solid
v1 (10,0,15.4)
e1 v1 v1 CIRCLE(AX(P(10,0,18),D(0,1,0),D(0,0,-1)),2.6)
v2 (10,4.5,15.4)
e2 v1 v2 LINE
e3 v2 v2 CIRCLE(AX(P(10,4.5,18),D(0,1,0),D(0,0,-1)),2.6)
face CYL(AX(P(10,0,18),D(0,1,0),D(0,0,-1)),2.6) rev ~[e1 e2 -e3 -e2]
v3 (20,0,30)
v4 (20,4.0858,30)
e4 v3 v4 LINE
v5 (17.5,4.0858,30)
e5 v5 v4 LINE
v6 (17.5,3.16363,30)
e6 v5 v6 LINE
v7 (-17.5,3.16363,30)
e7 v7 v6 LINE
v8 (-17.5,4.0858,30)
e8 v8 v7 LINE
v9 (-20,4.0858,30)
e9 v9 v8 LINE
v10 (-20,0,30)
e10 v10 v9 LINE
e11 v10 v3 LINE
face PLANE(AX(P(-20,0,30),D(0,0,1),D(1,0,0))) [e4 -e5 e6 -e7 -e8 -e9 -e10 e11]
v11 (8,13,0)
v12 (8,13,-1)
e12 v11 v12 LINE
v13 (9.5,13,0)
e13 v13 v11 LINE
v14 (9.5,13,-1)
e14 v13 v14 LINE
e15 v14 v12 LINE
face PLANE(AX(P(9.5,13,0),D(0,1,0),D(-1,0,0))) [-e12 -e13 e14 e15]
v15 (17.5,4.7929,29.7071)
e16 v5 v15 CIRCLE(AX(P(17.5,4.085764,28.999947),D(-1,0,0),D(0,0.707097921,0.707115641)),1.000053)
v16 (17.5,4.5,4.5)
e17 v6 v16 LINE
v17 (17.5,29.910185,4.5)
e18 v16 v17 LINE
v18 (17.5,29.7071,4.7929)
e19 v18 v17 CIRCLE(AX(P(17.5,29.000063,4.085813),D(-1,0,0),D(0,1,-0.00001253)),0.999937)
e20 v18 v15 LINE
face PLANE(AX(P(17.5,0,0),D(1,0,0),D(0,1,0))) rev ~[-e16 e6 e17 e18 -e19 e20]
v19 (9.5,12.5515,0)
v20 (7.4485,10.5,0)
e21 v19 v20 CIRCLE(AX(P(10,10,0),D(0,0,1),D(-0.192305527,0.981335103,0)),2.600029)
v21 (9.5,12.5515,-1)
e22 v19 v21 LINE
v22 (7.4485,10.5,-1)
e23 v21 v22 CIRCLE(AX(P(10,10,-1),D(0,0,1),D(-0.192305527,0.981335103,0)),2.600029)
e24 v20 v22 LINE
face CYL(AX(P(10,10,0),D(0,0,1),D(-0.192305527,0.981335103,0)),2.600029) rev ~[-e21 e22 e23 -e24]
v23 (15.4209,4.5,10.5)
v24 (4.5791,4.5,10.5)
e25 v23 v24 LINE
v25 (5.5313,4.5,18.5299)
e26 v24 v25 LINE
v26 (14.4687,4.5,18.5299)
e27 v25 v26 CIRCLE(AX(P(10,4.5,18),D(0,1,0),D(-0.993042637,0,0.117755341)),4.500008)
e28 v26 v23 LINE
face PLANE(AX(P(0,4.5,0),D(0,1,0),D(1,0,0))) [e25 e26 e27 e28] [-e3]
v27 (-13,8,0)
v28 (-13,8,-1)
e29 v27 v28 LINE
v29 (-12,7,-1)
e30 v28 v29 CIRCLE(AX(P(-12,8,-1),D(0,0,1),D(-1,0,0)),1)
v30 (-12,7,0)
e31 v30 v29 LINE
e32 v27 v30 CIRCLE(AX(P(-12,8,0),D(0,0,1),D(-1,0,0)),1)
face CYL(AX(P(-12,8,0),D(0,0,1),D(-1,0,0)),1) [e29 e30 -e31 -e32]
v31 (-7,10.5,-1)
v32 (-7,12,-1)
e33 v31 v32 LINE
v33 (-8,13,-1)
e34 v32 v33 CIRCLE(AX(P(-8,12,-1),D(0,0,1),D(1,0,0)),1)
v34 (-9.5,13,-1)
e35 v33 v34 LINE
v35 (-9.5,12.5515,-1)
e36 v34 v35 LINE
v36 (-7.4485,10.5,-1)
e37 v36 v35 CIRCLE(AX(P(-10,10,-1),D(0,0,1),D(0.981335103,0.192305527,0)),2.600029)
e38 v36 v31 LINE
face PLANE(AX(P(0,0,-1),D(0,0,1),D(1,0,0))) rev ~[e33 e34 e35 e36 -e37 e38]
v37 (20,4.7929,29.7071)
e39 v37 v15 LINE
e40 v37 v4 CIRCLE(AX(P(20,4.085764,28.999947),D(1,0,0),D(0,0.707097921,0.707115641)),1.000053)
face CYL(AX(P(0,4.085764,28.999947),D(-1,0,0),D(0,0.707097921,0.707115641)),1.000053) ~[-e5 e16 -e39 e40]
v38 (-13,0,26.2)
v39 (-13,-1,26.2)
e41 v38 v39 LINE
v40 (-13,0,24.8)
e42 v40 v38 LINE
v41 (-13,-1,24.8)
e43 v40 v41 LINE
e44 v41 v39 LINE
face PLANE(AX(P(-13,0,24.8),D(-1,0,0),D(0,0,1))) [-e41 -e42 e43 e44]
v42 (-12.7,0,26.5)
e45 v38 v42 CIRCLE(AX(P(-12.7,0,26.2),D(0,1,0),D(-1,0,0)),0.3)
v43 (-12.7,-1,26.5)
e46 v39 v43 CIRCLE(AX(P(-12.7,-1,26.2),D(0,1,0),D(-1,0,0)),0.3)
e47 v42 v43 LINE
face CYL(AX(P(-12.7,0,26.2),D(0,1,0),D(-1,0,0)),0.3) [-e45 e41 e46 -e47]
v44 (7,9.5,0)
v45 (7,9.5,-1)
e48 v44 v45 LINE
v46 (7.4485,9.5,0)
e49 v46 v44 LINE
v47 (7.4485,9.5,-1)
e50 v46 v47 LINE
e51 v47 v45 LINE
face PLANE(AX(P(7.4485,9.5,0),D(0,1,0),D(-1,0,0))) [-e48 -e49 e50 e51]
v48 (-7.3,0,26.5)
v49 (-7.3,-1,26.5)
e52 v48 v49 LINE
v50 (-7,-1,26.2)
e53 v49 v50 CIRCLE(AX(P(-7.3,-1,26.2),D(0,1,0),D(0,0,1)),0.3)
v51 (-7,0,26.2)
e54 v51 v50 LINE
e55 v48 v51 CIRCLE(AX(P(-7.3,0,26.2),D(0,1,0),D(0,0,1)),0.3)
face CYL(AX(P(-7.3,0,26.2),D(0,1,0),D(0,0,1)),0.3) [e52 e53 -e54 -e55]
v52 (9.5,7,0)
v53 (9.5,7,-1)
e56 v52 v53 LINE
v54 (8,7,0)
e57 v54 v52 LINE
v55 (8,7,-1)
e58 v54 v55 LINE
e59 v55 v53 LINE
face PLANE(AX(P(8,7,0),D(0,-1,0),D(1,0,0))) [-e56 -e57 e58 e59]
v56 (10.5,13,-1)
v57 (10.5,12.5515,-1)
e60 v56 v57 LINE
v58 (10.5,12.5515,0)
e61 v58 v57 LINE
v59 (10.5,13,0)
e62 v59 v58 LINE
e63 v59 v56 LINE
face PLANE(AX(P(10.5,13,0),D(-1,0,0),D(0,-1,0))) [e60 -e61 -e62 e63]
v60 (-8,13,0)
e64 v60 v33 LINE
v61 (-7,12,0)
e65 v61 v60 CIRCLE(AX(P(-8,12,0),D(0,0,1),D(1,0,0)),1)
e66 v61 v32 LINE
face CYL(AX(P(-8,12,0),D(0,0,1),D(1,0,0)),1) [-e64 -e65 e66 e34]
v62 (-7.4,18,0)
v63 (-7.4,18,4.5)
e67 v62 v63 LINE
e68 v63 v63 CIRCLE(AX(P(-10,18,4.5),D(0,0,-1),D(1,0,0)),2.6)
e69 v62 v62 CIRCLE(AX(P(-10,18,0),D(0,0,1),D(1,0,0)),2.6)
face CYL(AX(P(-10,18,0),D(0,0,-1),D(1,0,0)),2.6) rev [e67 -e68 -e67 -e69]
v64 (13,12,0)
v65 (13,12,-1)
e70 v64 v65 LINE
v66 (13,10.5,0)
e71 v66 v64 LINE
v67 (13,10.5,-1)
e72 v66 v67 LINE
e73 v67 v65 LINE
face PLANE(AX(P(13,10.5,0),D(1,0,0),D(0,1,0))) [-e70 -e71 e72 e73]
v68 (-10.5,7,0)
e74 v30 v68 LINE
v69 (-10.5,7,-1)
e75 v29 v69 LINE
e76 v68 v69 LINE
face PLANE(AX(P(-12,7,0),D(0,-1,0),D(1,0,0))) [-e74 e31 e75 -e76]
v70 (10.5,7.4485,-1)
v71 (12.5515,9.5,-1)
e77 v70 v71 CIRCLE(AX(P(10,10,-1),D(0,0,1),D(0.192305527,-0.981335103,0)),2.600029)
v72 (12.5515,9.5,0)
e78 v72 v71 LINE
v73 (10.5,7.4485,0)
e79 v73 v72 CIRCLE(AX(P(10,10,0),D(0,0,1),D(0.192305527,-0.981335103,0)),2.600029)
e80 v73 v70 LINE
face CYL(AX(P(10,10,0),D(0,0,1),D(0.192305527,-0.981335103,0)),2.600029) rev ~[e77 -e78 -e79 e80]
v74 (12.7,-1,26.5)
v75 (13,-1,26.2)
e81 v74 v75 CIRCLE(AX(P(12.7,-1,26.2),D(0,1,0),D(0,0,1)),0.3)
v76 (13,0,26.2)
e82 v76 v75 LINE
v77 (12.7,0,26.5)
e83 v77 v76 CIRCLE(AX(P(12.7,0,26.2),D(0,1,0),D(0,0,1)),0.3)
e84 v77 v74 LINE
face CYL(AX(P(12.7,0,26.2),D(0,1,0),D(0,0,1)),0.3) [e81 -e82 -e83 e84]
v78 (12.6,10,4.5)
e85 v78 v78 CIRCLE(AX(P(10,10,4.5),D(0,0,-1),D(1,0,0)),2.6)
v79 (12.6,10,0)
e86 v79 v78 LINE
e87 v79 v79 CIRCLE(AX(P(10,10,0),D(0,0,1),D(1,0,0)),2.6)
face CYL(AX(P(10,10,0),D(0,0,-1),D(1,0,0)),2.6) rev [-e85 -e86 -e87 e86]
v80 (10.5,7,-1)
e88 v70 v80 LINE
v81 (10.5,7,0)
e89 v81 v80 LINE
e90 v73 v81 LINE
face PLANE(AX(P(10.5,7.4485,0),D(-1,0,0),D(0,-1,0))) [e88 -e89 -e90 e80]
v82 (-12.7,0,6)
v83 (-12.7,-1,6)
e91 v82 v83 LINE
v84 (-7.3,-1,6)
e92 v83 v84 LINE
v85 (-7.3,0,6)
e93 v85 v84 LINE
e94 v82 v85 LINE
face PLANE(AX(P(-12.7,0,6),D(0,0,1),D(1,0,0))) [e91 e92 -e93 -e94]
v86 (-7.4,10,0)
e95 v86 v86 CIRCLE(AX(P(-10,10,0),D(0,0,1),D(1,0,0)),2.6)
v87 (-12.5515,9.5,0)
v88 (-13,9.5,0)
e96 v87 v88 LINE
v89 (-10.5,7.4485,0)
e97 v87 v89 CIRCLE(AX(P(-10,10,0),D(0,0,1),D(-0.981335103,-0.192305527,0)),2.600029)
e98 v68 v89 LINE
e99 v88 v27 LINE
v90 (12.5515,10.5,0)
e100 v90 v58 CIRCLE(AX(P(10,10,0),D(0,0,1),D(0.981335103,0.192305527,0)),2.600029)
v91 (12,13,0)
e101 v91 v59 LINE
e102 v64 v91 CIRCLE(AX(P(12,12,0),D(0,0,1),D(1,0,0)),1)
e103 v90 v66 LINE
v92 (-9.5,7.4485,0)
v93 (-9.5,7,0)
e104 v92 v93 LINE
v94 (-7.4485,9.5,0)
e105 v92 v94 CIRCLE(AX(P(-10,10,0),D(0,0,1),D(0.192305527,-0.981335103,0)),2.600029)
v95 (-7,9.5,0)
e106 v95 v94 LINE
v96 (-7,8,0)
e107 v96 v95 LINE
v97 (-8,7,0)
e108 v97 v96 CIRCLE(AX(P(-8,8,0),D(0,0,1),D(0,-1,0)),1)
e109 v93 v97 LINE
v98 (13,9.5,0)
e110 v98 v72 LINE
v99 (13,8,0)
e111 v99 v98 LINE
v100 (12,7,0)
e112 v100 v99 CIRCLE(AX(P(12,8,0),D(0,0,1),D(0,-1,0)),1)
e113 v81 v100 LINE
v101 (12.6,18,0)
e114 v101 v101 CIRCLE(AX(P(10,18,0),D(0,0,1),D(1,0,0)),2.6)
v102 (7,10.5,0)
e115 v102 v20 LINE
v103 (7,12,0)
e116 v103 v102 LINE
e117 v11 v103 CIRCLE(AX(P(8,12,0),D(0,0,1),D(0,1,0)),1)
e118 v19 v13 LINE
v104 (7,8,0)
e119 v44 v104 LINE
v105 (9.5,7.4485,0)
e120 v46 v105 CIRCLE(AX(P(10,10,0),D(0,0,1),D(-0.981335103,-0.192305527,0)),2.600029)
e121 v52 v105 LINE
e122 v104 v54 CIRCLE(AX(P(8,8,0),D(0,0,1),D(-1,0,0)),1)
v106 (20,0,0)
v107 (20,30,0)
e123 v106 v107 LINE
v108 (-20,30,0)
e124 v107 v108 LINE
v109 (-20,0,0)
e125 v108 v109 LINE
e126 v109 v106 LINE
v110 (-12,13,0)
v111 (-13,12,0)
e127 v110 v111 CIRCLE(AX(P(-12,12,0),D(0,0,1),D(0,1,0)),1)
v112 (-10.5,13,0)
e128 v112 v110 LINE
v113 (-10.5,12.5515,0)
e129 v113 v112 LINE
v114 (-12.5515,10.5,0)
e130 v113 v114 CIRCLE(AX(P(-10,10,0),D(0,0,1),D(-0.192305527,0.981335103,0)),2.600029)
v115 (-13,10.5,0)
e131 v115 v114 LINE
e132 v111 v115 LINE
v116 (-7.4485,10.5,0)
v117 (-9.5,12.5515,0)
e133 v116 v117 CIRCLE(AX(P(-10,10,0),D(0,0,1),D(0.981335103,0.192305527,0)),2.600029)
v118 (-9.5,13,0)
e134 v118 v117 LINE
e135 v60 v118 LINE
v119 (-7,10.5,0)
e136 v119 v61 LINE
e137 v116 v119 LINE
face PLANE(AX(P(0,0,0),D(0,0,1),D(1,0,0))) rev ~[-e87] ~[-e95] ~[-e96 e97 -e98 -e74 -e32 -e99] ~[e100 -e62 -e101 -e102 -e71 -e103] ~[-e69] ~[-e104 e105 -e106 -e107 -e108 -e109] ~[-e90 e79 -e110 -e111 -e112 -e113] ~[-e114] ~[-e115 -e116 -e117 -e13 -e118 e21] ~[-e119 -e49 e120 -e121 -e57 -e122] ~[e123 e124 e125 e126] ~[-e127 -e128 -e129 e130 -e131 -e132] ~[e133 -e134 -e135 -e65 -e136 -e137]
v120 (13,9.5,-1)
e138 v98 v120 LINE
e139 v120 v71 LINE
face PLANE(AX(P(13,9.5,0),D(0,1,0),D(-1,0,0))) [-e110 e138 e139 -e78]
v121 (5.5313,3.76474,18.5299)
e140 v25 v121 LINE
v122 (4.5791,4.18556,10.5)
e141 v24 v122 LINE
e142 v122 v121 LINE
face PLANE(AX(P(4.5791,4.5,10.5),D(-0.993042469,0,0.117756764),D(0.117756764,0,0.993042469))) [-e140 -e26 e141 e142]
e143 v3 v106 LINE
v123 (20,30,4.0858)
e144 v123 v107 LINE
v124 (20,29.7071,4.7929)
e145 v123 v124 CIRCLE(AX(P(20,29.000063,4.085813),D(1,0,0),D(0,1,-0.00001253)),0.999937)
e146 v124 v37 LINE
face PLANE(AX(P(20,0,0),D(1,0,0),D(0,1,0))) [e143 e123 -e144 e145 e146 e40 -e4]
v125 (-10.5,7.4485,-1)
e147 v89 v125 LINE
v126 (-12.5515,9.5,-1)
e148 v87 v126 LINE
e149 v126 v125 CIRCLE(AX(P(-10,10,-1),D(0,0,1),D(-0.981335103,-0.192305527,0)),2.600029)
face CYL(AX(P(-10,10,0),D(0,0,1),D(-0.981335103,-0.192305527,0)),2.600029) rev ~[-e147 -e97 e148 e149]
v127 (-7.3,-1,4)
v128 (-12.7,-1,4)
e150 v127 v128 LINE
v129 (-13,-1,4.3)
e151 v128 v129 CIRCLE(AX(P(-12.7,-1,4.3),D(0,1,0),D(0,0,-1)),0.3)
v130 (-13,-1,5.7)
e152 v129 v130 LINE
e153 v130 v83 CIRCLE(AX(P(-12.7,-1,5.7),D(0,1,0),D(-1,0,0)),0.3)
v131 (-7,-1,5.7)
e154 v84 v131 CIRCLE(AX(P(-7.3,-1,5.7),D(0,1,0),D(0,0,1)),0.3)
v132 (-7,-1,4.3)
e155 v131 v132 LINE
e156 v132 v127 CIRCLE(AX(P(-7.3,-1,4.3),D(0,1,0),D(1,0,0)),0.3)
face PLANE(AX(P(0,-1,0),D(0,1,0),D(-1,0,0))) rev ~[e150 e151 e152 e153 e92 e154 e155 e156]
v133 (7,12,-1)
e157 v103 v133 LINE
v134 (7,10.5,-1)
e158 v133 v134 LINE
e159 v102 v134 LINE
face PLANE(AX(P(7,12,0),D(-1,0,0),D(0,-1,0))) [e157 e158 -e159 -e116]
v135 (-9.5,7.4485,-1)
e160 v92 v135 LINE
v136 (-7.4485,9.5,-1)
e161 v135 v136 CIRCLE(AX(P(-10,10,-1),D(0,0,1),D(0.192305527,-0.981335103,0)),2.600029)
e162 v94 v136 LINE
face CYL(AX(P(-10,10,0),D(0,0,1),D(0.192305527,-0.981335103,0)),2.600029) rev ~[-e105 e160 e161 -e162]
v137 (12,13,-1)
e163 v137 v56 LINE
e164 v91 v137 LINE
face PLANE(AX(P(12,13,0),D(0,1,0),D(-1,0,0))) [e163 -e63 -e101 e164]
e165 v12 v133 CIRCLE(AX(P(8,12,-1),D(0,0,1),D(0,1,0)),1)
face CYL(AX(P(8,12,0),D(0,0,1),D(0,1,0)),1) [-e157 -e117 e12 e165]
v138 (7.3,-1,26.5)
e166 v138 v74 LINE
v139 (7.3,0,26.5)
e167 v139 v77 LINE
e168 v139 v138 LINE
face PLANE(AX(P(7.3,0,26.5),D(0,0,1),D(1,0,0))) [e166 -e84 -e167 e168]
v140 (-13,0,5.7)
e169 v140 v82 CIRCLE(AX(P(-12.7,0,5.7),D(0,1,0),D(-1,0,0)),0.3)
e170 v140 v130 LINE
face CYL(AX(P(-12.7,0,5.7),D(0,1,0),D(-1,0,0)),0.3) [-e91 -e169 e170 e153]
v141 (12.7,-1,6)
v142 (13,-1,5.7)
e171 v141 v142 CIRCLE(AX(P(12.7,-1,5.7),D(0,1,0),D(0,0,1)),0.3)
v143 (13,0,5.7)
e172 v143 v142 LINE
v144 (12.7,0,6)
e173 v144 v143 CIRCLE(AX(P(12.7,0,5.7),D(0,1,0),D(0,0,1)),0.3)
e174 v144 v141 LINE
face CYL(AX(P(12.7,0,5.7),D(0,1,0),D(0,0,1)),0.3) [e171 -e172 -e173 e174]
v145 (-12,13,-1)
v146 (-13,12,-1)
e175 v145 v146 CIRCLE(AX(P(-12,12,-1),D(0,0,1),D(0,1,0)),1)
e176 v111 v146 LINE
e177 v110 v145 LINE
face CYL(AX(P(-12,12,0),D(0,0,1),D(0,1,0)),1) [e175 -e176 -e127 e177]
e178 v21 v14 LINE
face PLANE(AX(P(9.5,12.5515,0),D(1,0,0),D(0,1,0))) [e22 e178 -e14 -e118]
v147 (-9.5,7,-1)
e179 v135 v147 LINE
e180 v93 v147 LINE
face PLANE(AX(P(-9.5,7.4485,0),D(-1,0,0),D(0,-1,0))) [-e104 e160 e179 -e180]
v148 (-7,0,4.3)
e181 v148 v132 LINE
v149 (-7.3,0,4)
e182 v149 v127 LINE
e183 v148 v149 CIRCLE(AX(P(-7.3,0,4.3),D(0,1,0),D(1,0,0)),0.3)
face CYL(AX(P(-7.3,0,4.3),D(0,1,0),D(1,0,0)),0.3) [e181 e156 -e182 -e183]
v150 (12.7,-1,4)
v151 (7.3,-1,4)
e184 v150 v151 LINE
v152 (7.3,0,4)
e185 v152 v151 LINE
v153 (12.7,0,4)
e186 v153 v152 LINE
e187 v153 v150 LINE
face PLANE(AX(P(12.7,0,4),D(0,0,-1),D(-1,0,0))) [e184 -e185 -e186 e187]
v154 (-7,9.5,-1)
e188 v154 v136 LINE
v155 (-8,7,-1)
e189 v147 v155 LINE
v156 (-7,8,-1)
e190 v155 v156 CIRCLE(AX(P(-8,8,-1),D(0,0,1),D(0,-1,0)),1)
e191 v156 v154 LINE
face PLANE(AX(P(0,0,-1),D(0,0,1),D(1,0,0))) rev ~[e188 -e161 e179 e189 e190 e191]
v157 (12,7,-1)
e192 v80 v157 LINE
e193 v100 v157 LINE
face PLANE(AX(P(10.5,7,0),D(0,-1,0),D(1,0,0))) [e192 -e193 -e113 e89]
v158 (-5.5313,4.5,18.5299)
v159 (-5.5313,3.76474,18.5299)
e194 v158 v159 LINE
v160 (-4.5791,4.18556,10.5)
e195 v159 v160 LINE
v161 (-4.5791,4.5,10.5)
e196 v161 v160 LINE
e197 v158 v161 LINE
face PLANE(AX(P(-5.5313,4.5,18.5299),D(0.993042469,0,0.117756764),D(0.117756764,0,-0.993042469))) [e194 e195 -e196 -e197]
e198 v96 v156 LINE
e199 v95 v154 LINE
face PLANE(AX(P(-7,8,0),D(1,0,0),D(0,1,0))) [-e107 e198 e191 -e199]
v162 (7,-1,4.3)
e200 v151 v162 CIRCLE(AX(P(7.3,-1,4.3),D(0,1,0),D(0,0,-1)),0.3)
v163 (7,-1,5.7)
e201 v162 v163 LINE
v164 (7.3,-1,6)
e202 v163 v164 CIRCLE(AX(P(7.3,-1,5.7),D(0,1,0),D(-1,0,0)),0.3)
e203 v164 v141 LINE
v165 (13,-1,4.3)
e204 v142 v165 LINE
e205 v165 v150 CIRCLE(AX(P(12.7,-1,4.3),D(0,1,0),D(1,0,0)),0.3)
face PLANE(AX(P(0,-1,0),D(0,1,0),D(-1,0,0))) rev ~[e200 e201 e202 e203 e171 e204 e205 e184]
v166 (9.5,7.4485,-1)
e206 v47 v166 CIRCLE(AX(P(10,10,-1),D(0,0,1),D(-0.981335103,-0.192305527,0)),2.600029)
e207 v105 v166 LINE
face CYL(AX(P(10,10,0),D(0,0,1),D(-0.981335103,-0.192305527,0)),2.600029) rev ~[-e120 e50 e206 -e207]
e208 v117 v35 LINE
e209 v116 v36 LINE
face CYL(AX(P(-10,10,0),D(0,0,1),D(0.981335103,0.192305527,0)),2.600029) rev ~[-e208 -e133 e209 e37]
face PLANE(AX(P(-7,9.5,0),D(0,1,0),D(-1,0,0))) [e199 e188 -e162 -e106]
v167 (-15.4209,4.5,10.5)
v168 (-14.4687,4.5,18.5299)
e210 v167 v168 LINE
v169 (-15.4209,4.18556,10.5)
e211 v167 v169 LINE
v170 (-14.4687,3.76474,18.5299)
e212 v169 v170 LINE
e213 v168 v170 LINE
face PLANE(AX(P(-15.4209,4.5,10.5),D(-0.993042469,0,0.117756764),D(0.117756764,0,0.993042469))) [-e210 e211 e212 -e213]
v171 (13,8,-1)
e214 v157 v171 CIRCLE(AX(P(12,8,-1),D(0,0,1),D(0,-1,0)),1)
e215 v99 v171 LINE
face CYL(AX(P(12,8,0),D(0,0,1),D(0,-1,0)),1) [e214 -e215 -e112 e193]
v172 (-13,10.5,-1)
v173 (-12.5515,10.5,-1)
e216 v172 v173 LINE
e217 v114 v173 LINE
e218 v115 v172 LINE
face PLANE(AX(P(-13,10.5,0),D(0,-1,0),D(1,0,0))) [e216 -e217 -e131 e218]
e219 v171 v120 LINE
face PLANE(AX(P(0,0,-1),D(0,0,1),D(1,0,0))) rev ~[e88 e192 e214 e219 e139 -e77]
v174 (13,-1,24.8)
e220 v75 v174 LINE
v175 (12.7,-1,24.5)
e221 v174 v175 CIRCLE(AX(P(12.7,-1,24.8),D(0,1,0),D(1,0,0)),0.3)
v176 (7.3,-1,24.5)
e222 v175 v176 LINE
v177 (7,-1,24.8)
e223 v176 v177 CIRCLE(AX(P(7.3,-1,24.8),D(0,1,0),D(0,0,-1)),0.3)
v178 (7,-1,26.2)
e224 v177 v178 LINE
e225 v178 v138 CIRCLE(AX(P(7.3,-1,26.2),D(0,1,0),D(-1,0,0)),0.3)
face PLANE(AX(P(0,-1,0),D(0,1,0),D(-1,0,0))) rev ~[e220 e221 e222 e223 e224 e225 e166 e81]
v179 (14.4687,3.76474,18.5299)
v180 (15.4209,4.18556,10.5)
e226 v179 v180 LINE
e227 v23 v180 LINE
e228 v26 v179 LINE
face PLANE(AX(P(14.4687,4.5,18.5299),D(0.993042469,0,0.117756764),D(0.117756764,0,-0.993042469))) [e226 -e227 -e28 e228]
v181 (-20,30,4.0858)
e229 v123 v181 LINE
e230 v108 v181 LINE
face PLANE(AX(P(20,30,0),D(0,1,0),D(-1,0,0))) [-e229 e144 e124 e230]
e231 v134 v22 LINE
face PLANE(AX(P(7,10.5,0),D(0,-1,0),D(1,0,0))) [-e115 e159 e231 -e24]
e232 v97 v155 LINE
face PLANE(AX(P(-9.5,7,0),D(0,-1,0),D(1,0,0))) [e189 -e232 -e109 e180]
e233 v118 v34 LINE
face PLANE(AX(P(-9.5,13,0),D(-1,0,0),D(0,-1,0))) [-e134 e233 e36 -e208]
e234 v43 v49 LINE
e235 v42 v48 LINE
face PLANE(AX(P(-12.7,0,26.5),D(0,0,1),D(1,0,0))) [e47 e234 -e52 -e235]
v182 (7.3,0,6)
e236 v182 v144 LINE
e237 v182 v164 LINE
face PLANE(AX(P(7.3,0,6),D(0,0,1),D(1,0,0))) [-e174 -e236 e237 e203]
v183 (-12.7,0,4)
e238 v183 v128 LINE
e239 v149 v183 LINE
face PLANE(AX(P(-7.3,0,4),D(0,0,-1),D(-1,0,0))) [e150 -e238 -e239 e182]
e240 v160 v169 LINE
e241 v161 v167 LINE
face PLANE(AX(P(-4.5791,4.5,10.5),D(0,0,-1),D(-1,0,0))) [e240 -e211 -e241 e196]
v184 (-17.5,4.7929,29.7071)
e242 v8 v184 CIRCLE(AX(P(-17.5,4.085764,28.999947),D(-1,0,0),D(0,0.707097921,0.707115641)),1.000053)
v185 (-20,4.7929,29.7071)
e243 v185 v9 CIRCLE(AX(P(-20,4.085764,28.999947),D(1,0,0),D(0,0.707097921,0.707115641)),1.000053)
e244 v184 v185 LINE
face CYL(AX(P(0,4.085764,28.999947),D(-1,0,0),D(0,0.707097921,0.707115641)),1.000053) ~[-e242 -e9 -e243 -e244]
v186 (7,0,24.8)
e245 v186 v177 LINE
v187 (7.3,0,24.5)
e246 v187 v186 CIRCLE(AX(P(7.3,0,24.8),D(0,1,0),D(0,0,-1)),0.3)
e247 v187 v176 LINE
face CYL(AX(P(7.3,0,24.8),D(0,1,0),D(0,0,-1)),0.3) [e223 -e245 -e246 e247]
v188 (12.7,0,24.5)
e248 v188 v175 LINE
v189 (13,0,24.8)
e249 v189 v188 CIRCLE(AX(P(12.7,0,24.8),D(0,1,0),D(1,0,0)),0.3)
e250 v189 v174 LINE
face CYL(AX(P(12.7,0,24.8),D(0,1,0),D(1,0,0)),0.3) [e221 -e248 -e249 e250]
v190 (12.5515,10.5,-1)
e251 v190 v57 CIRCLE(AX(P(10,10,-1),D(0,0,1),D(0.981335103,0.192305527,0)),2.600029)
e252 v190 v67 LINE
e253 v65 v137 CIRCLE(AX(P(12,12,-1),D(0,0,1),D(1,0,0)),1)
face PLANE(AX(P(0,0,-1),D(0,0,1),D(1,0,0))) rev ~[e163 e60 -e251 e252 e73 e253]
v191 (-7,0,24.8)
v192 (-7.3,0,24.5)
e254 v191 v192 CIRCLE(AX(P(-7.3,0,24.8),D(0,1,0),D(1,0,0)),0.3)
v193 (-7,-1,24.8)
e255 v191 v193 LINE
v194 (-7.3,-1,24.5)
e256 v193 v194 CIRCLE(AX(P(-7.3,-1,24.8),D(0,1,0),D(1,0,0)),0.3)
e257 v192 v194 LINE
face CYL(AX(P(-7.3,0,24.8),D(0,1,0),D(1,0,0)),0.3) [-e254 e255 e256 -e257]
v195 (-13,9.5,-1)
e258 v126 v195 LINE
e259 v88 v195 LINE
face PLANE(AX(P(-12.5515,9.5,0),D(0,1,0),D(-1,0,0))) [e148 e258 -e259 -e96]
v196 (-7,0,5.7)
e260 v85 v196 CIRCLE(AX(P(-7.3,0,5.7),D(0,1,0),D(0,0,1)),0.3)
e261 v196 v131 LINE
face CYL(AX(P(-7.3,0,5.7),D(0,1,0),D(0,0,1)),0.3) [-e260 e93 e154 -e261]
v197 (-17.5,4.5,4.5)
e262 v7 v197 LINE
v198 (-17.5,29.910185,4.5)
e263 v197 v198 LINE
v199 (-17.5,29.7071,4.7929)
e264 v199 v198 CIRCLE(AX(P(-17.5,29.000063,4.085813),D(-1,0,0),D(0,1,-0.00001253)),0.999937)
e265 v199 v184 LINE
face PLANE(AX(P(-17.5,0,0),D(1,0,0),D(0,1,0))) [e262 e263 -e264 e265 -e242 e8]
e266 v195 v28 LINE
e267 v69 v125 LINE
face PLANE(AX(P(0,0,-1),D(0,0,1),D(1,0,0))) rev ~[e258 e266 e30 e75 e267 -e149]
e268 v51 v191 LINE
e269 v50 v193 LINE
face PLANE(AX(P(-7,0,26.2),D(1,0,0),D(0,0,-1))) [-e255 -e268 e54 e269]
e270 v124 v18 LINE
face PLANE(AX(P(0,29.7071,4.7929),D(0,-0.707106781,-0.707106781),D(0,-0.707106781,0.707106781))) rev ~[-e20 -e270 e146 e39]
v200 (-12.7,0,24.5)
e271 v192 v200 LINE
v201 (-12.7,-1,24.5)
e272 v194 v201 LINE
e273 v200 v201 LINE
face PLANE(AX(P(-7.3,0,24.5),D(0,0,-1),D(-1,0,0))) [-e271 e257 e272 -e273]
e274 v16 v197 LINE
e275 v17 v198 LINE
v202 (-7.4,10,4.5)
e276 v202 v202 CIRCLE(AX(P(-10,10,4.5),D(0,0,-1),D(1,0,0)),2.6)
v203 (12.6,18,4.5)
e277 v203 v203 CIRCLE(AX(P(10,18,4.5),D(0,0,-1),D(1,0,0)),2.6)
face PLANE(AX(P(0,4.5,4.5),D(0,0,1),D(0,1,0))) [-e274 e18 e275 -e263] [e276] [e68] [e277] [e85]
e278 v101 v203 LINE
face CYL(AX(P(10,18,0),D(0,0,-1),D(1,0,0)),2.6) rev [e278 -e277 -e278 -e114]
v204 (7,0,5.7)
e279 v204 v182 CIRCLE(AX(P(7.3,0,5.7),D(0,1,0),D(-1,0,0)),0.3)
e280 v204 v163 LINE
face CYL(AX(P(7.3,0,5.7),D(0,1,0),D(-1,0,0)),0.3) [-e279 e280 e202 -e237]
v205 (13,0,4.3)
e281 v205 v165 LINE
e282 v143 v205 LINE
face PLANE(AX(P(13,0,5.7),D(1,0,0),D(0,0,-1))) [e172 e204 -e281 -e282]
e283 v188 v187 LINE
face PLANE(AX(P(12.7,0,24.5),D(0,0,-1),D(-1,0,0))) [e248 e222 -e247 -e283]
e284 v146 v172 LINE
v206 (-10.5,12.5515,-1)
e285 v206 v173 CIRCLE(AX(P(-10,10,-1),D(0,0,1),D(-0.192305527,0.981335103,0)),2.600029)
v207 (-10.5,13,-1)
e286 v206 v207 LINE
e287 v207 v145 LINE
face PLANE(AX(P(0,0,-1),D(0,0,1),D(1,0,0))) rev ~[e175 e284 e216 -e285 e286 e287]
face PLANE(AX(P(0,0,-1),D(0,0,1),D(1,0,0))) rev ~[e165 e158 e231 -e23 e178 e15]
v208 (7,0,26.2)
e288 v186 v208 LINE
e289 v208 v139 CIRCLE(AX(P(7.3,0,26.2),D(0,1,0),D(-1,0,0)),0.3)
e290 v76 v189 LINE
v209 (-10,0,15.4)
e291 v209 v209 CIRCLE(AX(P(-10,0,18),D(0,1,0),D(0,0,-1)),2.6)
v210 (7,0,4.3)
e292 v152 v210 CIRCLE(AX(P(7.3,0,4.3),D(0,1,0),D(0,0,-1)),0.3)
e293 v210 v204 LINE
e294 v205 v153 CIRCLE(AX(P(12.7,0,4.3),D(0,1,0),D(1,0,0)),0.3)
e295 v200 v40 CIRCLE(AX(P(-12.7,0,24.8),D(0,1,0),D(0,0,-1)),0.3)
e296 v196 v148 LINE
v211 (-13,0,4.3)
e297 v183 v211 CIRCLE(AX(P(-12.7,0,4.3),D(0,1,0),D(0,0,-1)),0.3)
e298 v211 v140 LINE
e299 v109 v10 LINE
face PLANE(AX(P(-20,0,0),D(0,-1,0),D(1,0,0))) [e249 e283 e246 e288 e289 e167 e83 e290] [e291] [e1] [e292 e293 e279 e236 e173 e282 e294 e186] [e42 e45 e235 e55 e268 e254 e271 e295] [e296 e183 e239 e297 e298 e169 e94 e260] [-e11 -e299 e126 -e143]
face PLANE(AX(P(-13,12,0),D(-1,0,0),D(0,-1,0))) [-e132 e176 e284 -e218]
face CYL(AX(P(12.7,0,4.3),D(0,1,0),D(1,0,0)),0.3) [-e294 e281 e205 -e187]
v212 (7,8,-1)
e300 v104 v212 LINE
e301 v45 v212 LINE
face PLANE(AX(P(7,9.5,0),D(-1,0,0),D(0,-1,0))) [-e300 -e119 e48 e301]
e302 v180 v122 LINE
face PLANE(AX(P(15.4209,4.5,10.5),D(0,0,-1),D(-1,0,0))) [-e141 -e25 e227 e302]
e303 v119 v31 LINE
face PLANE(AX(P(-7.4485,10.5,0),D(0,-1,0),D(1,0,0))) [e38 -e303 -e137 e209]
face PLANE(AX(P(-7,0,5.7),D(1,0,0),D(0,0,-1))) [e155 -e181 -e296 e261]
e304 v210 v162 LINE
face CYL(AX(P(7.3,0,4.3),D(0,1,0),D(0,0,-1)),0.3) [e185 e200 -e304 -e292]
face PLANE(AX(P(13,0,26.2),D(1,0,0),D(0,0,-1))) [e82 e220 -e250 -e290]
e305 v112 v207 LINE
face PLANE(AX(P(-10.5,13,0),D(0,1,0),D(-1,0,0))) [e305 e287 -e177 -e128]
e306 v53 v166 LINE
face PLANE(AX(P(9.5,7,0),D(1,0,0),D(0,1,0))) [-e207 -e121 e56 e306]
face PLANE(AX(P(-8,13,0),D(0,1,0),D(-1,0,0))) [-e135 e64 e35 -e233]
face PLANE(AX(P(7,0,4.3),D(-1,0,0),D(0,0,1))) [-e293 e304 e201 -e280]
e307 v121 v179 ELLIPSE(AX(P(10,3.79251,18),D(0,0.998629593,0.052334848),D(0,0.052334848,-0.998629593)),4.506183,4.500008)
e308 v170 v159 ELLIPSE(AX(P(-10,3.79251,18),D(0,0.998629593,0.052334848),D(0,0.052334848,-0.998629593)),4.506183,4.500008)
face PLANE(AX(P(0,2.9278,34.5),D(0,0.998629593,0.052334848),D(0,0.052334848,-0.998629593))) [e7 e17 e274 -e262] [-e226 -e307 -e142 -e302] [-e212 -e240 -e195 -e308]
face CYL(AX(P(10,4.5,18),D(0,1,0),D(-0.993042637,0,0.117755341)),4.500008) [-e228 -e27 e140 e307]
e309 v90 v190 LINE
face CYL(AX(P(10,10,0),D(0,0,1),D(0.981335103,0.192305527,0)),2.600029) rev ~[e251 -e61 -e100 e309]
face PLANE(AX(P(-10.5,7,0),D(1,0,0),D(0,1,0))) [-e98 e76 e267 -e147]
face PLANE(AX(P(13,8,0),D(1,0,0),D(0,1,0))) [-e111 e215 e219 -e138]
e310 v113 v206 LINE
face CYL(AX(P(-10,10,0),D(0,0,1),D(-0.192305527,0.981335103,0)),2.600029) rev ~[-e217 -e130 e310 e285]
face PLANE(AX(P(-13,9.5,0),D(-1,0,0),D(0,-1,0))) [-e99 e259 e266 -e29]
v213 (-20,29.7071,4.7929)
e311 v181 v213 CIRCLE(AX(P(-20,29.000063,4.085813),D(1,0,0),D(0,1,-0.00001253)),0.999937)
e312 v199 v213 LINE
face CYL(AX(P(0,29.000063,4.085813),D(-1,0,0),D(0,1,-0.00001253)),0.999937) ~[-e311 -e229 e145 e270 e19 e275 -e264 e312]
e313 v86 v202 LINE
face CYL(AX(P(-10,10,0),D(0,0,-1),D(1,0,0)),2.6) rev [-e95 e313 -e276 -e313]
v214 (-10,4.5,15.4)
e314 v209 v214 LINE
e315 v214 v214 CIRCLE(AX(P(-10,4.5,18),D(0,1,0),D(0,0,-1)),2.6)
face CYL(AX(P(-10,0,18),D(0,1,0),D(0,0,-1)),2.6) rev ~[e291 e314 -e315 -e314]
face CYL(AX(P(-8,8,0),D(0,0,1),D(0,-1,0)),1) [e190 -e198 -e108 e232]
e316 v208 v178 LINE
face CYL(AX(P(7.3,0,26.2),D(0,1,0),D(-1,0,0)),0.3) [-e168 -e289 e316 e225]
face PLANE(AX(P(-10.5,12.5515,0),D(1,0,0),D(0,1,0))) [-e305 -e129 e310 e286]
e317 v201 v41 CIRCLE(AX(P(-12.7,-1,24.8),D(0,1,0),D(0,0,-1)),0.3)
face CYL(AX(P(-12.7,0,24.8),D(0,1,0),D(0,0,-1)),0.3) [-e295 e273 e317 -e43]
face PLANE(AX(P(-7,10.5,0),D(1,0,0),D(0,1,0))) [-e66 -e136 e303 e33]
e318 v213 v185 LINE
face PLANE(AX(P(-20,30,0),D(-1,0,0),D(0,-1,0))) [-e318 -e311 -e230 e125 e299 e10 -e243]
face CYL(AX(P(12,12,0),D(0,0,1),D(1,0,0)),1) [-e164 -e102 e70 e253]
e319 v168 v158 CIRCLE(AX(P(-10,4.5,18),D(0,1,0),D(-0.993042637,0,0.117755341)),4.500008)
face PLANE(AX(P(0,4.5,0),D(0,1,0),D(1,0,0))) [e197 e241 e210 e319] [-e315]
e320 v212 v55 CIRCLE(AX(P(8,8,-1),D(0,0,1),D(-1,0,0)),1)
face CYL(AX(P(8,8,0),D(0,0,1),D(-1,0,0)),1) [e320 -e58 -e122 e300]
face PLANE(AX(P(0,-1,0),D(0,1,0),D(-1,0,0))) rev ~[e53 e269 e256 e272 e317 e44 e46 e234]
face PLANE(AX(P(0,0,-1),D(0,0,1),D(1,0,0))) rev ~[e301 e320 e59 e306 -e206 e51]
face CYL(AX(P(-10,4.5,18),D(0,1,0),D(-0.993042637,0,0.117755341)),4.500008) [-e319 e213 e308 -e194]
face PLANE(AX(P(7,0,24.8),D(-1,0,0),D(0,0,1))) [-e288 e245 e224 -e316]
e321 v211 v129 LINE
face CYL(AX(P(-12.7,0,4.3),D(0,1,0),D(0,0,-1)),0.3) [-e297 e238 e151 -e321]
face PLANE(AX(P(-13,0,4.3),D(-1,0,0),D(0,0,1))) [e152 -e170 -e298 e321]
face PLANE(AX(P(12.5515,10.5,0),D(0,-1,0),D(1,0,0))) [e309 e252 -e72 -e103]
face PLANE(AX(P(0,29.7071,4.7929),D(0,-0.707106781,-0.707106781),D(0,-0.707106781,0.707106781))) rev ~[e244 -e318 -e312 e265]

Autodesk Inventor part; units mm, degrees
sketch "Sketch_15" plane through (0, 0, 0) normal (1, 0, 0) x (0, 1, 0)
  line L0 (4.0858, 30) -> (0, 30)
  line L1 (0, 30) -> (0, 0)
  line L2 (0, 0) -> (30, 0)
  line L3 (30, 0) -> (30, 4.0858)
  arc A0 (30, 4.0858) -> (29.7071, 4.7929) centre (29, 4.0858) ccw
  line L4 (29.7071, 4.7929) -> (4.7929, 29.7071)
  arc A1 (4.7929, 29.7071) -> (4.0858, 30) centre (4.0858, 29) ccw
extrude "Extrusion1" add sketch "Sketch_15" along normal mid plane 40
sketch "Sketch_16" plane through (0, 0, 0) normal (1, 0, 0) x (0, 1, 0)
  line L0 (34.5, 34.5) -> (2.9278, 34.5)
  line L1 (2.9278, 34.5) -> (4.5, 4.5)
  line L2 (4.5, 4.5) -> (34.5, 4.5)
  line L3 (34.5, 4.5) -> (34.5, 34.5)
extrude "Extrusion2" cut sketch "Sketch_16" along normal mid plane 35
sketch "Sketch_34" plane through (0, 4.5, 0) normal (0, 1, 0) x (1, 0, 0)
  line L0 (4.5791, -10.5) -> (5.5313, -18.5299)
  arc A0 (5.5313, -18.5299) -> (14.4687, -18.5299) centre (10, -18) ccw
  line L1 (14.4687, -18.5299) -> (15.4209, -10.5)
  line L2 (15.4209, -10.5) -> (4.5791, -10.5)
extrude "Extrusion3" add sketch "Sketch_34" against normal blind 2.25
sketch "Sketch_35" plane through (0, 4.5, 0) normal (0, 1, 0) x (1, 0, 0)
  line L0 (-15.4209, -10.5) -> (-14.4687, -18.5299)
  arc A0 (-14.4687, -18.5299) -> (-5.5313, -18.5299) centre (-10, -18) ccw
  line L1 (-5.5313, -18.5299) -> (-4.5791, -10.5)
  line L2 (-4.5791, -10.5) -> (-15.4209, -10.5)
extrude "Extrusion4" add sketch "Sketch_35" against normal blind 2.25
sketch "Sketch5" plane through (-20, 0, 0) normal (0, -1, 0) x (1, 0, 0)
  point P0 (30, 18)
hole "Hole1" at (10, 0, 18) direction (0, 1, 0) diameter 5.2 depth 4.5
sketch "Sketch6" plane through (-20, 0, 0) normal (0, -1, 0) x (1, 0, 0)
  point P0 (10, 18)
hole "Hole2" at (-10, 0, 18) direction (0, 1, 0) diameter 5.2 depth 4.5
sketch "Sketch_32" plane through (0, 0, 0) normal (0, 0, 1) x (1, 0, 0)
  circle A0 centre (-10, 10) radius 2.6
extrude "Extrusion5" cut sketch "Sketch_32" along normal mid plane 35
pattern_linear "Rectangular Pattern1" count 2 spacing 20 along (1, 0, 0) count 2 spacing 8 along (0, 1, 0) of "Extrusion5"
sketch "Sketch_1" plane through (0, 0, 0) normal (0, 1, 0) x (-1, 0, 0)
  line L0 (20, 30) -> (-20, 30)
  line L1 (-20, 30) -> (-20, 0)
  line L2 (-20, 0) -> (20, 0)
  line L3 (20, 0) -> (20, 30)
extrude "Extrusion6" add sketch "Sketch_1" against normal blind 1
sketch "Sketch_38" plane through (0, 0, 0) normal (0, 1, 0) x (-1, 0, 0)
  line L0 (20, 30) -> (-20, 30)
  line L1 (-20, 30) -> (-20, 0)
  line L2 (-20, 0) -> (20, 0)
  line L3 (20, 0) -> (20, 30)
  line L4 (-7, 24.8) -> (-7, 26.2)
  arc A0 (-7, 26.2) -> (-7.3, 26.5) centre (-7.3, 26.2) ccw
  line L5 (-7.3, 26.5) -> (-12.7, 26.5)
  arc A1 (-12.7, 26.5) -> (-13, 26.2) centre (-12.7, 26.2) ccw
  line L6 (-13, 26.2) -> (-13, 24.8)
  arc A2 (-13, 24.8) -> (-12.7, 24.5) centre (-12.7, 24.8) ccw
  line L7 (-12.7, 24.5) -> (-7.3, 24.5)
  arc A3 (-7.3, 24.5) -> (-7, 24.8) centre (-7.3, 24.8) ccw
  line L8 (-7, 4.3) -> (-7, 5.7)
  arc A4 (-7, 5.7) -> (-7.3, 6) centre (-7.3, 5.7) ccw
  line L9 (-7.3, 6) -> (-12.7, 6)
  arc A5 (-12.7, 6) -> (-13, 5.7) centre (-12.7, 5.7) ccw
  line L10 (-13, 5.7) -> (-13, 4.3)
  arc A6 (-13, 4.3) -> (-12.7, 4) centre (-12.7, 4.3) ccw
  line L11 (-12.7, 4) -> (-7.3, 4)
  arc A7 (-7.3, 4) -> (-7, 4.3) centre (-7.3, 4.3) ccw
  line L12 (13, 24.8) -> (13, 26.2)
  arc A8 (13, 26.2) -> (12.7, 26.5) centre (12.7, 26.2) ccw
  line L13 (12.7, 26.5) -> (7.3, 26.5)
  arc A9 (7.3, 26.5) -> (7, 26.2) centre (7.3, 26.2) ccw
  line L14 (7, 26.2) -> (7, 24.8)
  arc A10 (7, 24.8) -> (7.3, 24.5) centre (7.3, 24.8) ccw
  line L15 (7.3, 24.5) -> (12.7, 24.5)
  arc A11 (12.7, 24.5) -> (13, 24.8) centre (12.7, 24.8) ccw
  line L16 (13, 4.3) -> (13, 5.7)
  arc A12 (13, 5.7) -> (12.7, 6) centre (12.7, 5.7) ccw
  line L17 (12.7, 6) -> (7.3, 6)
  arc A13 (7.3, 6) -> (7, 5.7) centre (7.3, 5.7) ccw
  line L18 (7, 5.7) -> (7, 4.3)
  arc A14 (7, 4.3) -> (7.3, 4) centre (7.3, 4.3) ccw
  line L19 (7.3, 4) -> (12.7, 4)
  arc A15 (12.7, 4) -> (13, 4.3) centre (12.7, 4.3) ccw
extrude "Extrusion7" cut sketch "Sketch_38" against normal blind 1
sketch "Sketch_10" plane through (0, 0, 0) normal (0, 0, 1) x (1, 0, 0)
  line L0 (-20, 30) -> (-20, 0)
  line L1 (-20, 0) -> (20, 0)
  line L2 (20, 0) -> (20, 30)
  line L3 (20, 30) -> (-20, 30)
extrude "Extrusion8" add sketch "Sketch_10" against normal blind 1
sketch "Sketch_39" plane through (0, 0, 0) normal (0, 0, 1) x (1, 0, 0)
  line L0 (-20, 30) -> (-20, 0)
  line L1 (-20, 0) -> (20, 0)
  line L2 (20, 0) -> (20, 30)
  line L3 (20, 30) -> (-20, 30)
  arc A0 (12.5515, 10.5) -> (10.5, 12.5515) centre (10, 10) ccw
  line L4 (12.5515, 10.5) -> (13, 10.5)
  line L5 (13, 10.5) -> (13, 12)
  arc A1 (13, 12) -> (12, 13) centre (12, 12) ccw
  line L6 (12, 13) -> (10.5, 13)
  line L7 (10.5, 13) -> (10.5, 12.5515)
  line L8 (10.5, 7.4485) -> (10.5, 7)
  line L9 (10.5, 7) -> (12, 7)
  arc A2 (12, 7) -> (13, 8) centre (12, 8) ccw
  line L10 (13, 8) -> (13, 9.5)
  line L11 (13, 9.5) -> (12.5515, 9.5)
  arc A3 (10.5, 7.4485) -> (12.5515, 9.5) centre (10, 10) ccw
  line L12 (7, 12) -> (7, 10.5)
  line L13 (7, 10.5) -> (7.4485, 10.5)
  arc A4 (9.5, 12.5515) -> (7.4485, 10.5) centre (10, 10) ccw
  line L14 (9.5, 12.5515) -> (9.5, 13)
  line L15 (9.5, 13) -> (8, 13)
  arc A5 (8, 13) -> (7, 12) centre (8, 12) ccw
  line L16 (7, 9.5) -> (7, 8)
  arc A6 (7, 8) -> (8, 7) centre (8, 8) ccw
  line L17 (8, 7) -> (9.5, 7)
  line L18 (9.5, 7) -> (9.5, 7.4485)
  arc A7 (7.4485, 9.5) -> (9.5, 7.4485) centre (10, 10) ccw
  line L19 (7.4485, 9.5) -> (7, 9.5)
  arc A8 (-7.4485, 10.5) -> (-9.5, 12.5515) centre (-10, 10) ccw
  line L20 (-7.4485, 10.5) -> (-7, 10.5)
  line L21 (-7, 10.5) -> (-7, 12)
  arc A9 (-7, 12) -> (-8, 13) centre (-8, 12) ccw
  line L22 (-8, 13) -> (-9.5, 13)
  line L23 (-9.5, 13) -> (-9.5, 12.5515)
  line L24 (-9.5, 7.4485) -> (-9.5, 7)
  line L25 (-9.5, 7) -> (-8, 7)
  arc A10 (-8, 7) -> (-7, 8) centre (-8, 8) ccw
  line L26 (-7, 8) -> (-7, 9.5)
  line L27 (-7, 9.5) -> (-7.4485, 9.5)
  arc A11 (-9.5, 7.4485) -> (-7.4485, 9.5) centre (-10, 10) ccw
  line L28 (-13, 12) -> (-13, 10.5)
  line L29 (-13, 10.5) -> (-12.5515, 10.5)
  arc A12 (-10.5, 12.5515) -> (-12.5515, 10.5) centre (-10, 10) ccw
  line L30 (-10.5, 12.5515) -> (-10.5, 13)
  line L31 (-10.5, 13) -> (-12, 13)
  arc A13 (-12, 13) -> (-13, 12) centre (-12, 12) ccw
  line L32 (-13, 9.5) -> (-13, 8)
  arc A14 (-13, 8) -> (-12, 7) centre (-12, 8) ccw
  line L33 (-12, 7) -> (-10.5, 7)
  line L34 (-10.5, 7) -> (-10.5, 7.4485)
  arc A15 (-12.5515, 9.5) -> (-10.5, 7.4485) centre (-10, 10) ccw
  line L35 (-12.5515, 9.5) -> (-13, 9.5)
extrude "Extrusion9" cut sketch "Sketch_39" against normal blind 1
ref_plane "bolt_10_11_base_1_XY" through (-10, 4.5, 18) normal (0, 1, 0) x (1, 0, 0)
ref_plane "bolt_10_11_base_1_YZ" through (-10, 4.5, 18) normal (1, 0, 0) x (0, 0, -1)
ref_plane "bolt_10_11_base_1_ZX" through (-10, 4.5, 18) normal (0, 0, -1) x (0, 1, 0)
ref_plane "bolt_10_11_base_2_XY" through (10, 4.5, 18) normal (0, 1, 0) x (1, 0, 0)
ref_plane "bolt_10_11_base_2_YZ" through (10, 4.5, 18) normal (1, 0, 0) x (0, 0, -1)
ref_plane "bolt_10_11_base_2_ZX" through (10, 4.5, 18) normal (0, 0, -1) x (0, 1, 0)
ref_plane "bracket_to_bolt_XY" through (1, 0, 0) normal (0, 0, 1) x (1, 0, 0)
ref_plane "bracket_to_bolt_YZ" through (1, 0, 0) normal (1, 0, 0) x (0, 1, 0)
ref_plane "bracket_to_bolt_ZX" through (1, 0, 0) normal (0, 1, 0) x (0, 0, 1)
ref_plane "bracket_to_dummy_XY" through (0, 0, 0) normal (0, 1, 0) x (1, 0, 0)
ref_plane "bracket_to_dummy_YZ" through (0, 0, 0) normal (1, 0, 0) x (0, 0, -1)
ref_plane "bracket_to_dummy_ZX" through (0, 0, 0) normal (0, 0, -1) x (0, 1, 0)
ref_plane "nut_10_11_base_1_XY" through (-10, -2, 18) normal (0, 1, 0) x (1, 0, 0)
ref_plane "nut_10_11_base_1_YZ" through (-10, -2, 18) normal (1, 0, 0) x (0, 0, -1)
ref_plane "nut_10_11_base_1_ZX" through (-10, -2, 18) normal (0, 0, -1) x (0, 1, 0)
ref_plane "nut_10_11_base_2_XY" through (10, -2, 18) normal (0, 1, 0) x (1, 0, 0)
ref_plane "nut_10_11_base_2_YZ" through (10, -2, 18) normal (1, 0, 0) x (0, 0, -1)
ref_plane "nut_10_11_base_2_ZX" through (10, -2, 18) normal (0, 0, -1) x (0, 1, 0)
ref_plane "to_bolt_row_10_11_1_XY" through (-10, 18, 4.5) normal (0, 0, 1) x (1, 0, 0)
ref_plane "to_bolt_row_10_11_1_YZ" through (-10, 18, 4.5) normal (1, 0, 0) x (0, 1, 0)
ref_plane "to_bolt_row_10_11_1_ZX" through (-10, 18, 4.5) normal (0, 1, 0) x (0, 0, 1)
ref_plane "to_bolt_row_10_11_2_XY" through (10, 18, 4.5) normal (0, 0, 1) x (1, 0, 0)
ref_plane "to_bolt_row_10_11_2_YZ" through (10, 18, 4.5) normal (1, 0, 0) x (0, 1, 0)
ref_plane "to_bolt_row_10_11_2_ZX" through (10, 18, 4.5) normal (0, 1, 0) x (0, 0, 1)
ref_plane "to_nut_row_10_11_1_XY" through (-10, 18, -2) normal (0, 0, 1) x (1, 0, 0)
ref_plane "to_nut_row_10_11_1_YZ" through (-10, 18, -2) normal (1, 0, 0) x (0, 1, 0)
ref_plane "to_nut_row_10_11_1_ZX" through (-10, 18, -2) normal (0, 1, 0) x (0, 0, 1)
ref_plane "to_nut_row_10_11_2_XY" through (10, 18, -2) normal (0, 0, 1) x (1, 0, 0)
ref_plane "to_nut_row_10_11_2_YZ" through (10, 18, -2) normal (1, 0, 0) x (0, 1, 0)
ref_plane "to_nut_row_10_11_2_ZX" through (10, 18, -2) normal (0, 1, 0) x (0, 0, 1)
properties part number "HBLFSD5-SECh5"
